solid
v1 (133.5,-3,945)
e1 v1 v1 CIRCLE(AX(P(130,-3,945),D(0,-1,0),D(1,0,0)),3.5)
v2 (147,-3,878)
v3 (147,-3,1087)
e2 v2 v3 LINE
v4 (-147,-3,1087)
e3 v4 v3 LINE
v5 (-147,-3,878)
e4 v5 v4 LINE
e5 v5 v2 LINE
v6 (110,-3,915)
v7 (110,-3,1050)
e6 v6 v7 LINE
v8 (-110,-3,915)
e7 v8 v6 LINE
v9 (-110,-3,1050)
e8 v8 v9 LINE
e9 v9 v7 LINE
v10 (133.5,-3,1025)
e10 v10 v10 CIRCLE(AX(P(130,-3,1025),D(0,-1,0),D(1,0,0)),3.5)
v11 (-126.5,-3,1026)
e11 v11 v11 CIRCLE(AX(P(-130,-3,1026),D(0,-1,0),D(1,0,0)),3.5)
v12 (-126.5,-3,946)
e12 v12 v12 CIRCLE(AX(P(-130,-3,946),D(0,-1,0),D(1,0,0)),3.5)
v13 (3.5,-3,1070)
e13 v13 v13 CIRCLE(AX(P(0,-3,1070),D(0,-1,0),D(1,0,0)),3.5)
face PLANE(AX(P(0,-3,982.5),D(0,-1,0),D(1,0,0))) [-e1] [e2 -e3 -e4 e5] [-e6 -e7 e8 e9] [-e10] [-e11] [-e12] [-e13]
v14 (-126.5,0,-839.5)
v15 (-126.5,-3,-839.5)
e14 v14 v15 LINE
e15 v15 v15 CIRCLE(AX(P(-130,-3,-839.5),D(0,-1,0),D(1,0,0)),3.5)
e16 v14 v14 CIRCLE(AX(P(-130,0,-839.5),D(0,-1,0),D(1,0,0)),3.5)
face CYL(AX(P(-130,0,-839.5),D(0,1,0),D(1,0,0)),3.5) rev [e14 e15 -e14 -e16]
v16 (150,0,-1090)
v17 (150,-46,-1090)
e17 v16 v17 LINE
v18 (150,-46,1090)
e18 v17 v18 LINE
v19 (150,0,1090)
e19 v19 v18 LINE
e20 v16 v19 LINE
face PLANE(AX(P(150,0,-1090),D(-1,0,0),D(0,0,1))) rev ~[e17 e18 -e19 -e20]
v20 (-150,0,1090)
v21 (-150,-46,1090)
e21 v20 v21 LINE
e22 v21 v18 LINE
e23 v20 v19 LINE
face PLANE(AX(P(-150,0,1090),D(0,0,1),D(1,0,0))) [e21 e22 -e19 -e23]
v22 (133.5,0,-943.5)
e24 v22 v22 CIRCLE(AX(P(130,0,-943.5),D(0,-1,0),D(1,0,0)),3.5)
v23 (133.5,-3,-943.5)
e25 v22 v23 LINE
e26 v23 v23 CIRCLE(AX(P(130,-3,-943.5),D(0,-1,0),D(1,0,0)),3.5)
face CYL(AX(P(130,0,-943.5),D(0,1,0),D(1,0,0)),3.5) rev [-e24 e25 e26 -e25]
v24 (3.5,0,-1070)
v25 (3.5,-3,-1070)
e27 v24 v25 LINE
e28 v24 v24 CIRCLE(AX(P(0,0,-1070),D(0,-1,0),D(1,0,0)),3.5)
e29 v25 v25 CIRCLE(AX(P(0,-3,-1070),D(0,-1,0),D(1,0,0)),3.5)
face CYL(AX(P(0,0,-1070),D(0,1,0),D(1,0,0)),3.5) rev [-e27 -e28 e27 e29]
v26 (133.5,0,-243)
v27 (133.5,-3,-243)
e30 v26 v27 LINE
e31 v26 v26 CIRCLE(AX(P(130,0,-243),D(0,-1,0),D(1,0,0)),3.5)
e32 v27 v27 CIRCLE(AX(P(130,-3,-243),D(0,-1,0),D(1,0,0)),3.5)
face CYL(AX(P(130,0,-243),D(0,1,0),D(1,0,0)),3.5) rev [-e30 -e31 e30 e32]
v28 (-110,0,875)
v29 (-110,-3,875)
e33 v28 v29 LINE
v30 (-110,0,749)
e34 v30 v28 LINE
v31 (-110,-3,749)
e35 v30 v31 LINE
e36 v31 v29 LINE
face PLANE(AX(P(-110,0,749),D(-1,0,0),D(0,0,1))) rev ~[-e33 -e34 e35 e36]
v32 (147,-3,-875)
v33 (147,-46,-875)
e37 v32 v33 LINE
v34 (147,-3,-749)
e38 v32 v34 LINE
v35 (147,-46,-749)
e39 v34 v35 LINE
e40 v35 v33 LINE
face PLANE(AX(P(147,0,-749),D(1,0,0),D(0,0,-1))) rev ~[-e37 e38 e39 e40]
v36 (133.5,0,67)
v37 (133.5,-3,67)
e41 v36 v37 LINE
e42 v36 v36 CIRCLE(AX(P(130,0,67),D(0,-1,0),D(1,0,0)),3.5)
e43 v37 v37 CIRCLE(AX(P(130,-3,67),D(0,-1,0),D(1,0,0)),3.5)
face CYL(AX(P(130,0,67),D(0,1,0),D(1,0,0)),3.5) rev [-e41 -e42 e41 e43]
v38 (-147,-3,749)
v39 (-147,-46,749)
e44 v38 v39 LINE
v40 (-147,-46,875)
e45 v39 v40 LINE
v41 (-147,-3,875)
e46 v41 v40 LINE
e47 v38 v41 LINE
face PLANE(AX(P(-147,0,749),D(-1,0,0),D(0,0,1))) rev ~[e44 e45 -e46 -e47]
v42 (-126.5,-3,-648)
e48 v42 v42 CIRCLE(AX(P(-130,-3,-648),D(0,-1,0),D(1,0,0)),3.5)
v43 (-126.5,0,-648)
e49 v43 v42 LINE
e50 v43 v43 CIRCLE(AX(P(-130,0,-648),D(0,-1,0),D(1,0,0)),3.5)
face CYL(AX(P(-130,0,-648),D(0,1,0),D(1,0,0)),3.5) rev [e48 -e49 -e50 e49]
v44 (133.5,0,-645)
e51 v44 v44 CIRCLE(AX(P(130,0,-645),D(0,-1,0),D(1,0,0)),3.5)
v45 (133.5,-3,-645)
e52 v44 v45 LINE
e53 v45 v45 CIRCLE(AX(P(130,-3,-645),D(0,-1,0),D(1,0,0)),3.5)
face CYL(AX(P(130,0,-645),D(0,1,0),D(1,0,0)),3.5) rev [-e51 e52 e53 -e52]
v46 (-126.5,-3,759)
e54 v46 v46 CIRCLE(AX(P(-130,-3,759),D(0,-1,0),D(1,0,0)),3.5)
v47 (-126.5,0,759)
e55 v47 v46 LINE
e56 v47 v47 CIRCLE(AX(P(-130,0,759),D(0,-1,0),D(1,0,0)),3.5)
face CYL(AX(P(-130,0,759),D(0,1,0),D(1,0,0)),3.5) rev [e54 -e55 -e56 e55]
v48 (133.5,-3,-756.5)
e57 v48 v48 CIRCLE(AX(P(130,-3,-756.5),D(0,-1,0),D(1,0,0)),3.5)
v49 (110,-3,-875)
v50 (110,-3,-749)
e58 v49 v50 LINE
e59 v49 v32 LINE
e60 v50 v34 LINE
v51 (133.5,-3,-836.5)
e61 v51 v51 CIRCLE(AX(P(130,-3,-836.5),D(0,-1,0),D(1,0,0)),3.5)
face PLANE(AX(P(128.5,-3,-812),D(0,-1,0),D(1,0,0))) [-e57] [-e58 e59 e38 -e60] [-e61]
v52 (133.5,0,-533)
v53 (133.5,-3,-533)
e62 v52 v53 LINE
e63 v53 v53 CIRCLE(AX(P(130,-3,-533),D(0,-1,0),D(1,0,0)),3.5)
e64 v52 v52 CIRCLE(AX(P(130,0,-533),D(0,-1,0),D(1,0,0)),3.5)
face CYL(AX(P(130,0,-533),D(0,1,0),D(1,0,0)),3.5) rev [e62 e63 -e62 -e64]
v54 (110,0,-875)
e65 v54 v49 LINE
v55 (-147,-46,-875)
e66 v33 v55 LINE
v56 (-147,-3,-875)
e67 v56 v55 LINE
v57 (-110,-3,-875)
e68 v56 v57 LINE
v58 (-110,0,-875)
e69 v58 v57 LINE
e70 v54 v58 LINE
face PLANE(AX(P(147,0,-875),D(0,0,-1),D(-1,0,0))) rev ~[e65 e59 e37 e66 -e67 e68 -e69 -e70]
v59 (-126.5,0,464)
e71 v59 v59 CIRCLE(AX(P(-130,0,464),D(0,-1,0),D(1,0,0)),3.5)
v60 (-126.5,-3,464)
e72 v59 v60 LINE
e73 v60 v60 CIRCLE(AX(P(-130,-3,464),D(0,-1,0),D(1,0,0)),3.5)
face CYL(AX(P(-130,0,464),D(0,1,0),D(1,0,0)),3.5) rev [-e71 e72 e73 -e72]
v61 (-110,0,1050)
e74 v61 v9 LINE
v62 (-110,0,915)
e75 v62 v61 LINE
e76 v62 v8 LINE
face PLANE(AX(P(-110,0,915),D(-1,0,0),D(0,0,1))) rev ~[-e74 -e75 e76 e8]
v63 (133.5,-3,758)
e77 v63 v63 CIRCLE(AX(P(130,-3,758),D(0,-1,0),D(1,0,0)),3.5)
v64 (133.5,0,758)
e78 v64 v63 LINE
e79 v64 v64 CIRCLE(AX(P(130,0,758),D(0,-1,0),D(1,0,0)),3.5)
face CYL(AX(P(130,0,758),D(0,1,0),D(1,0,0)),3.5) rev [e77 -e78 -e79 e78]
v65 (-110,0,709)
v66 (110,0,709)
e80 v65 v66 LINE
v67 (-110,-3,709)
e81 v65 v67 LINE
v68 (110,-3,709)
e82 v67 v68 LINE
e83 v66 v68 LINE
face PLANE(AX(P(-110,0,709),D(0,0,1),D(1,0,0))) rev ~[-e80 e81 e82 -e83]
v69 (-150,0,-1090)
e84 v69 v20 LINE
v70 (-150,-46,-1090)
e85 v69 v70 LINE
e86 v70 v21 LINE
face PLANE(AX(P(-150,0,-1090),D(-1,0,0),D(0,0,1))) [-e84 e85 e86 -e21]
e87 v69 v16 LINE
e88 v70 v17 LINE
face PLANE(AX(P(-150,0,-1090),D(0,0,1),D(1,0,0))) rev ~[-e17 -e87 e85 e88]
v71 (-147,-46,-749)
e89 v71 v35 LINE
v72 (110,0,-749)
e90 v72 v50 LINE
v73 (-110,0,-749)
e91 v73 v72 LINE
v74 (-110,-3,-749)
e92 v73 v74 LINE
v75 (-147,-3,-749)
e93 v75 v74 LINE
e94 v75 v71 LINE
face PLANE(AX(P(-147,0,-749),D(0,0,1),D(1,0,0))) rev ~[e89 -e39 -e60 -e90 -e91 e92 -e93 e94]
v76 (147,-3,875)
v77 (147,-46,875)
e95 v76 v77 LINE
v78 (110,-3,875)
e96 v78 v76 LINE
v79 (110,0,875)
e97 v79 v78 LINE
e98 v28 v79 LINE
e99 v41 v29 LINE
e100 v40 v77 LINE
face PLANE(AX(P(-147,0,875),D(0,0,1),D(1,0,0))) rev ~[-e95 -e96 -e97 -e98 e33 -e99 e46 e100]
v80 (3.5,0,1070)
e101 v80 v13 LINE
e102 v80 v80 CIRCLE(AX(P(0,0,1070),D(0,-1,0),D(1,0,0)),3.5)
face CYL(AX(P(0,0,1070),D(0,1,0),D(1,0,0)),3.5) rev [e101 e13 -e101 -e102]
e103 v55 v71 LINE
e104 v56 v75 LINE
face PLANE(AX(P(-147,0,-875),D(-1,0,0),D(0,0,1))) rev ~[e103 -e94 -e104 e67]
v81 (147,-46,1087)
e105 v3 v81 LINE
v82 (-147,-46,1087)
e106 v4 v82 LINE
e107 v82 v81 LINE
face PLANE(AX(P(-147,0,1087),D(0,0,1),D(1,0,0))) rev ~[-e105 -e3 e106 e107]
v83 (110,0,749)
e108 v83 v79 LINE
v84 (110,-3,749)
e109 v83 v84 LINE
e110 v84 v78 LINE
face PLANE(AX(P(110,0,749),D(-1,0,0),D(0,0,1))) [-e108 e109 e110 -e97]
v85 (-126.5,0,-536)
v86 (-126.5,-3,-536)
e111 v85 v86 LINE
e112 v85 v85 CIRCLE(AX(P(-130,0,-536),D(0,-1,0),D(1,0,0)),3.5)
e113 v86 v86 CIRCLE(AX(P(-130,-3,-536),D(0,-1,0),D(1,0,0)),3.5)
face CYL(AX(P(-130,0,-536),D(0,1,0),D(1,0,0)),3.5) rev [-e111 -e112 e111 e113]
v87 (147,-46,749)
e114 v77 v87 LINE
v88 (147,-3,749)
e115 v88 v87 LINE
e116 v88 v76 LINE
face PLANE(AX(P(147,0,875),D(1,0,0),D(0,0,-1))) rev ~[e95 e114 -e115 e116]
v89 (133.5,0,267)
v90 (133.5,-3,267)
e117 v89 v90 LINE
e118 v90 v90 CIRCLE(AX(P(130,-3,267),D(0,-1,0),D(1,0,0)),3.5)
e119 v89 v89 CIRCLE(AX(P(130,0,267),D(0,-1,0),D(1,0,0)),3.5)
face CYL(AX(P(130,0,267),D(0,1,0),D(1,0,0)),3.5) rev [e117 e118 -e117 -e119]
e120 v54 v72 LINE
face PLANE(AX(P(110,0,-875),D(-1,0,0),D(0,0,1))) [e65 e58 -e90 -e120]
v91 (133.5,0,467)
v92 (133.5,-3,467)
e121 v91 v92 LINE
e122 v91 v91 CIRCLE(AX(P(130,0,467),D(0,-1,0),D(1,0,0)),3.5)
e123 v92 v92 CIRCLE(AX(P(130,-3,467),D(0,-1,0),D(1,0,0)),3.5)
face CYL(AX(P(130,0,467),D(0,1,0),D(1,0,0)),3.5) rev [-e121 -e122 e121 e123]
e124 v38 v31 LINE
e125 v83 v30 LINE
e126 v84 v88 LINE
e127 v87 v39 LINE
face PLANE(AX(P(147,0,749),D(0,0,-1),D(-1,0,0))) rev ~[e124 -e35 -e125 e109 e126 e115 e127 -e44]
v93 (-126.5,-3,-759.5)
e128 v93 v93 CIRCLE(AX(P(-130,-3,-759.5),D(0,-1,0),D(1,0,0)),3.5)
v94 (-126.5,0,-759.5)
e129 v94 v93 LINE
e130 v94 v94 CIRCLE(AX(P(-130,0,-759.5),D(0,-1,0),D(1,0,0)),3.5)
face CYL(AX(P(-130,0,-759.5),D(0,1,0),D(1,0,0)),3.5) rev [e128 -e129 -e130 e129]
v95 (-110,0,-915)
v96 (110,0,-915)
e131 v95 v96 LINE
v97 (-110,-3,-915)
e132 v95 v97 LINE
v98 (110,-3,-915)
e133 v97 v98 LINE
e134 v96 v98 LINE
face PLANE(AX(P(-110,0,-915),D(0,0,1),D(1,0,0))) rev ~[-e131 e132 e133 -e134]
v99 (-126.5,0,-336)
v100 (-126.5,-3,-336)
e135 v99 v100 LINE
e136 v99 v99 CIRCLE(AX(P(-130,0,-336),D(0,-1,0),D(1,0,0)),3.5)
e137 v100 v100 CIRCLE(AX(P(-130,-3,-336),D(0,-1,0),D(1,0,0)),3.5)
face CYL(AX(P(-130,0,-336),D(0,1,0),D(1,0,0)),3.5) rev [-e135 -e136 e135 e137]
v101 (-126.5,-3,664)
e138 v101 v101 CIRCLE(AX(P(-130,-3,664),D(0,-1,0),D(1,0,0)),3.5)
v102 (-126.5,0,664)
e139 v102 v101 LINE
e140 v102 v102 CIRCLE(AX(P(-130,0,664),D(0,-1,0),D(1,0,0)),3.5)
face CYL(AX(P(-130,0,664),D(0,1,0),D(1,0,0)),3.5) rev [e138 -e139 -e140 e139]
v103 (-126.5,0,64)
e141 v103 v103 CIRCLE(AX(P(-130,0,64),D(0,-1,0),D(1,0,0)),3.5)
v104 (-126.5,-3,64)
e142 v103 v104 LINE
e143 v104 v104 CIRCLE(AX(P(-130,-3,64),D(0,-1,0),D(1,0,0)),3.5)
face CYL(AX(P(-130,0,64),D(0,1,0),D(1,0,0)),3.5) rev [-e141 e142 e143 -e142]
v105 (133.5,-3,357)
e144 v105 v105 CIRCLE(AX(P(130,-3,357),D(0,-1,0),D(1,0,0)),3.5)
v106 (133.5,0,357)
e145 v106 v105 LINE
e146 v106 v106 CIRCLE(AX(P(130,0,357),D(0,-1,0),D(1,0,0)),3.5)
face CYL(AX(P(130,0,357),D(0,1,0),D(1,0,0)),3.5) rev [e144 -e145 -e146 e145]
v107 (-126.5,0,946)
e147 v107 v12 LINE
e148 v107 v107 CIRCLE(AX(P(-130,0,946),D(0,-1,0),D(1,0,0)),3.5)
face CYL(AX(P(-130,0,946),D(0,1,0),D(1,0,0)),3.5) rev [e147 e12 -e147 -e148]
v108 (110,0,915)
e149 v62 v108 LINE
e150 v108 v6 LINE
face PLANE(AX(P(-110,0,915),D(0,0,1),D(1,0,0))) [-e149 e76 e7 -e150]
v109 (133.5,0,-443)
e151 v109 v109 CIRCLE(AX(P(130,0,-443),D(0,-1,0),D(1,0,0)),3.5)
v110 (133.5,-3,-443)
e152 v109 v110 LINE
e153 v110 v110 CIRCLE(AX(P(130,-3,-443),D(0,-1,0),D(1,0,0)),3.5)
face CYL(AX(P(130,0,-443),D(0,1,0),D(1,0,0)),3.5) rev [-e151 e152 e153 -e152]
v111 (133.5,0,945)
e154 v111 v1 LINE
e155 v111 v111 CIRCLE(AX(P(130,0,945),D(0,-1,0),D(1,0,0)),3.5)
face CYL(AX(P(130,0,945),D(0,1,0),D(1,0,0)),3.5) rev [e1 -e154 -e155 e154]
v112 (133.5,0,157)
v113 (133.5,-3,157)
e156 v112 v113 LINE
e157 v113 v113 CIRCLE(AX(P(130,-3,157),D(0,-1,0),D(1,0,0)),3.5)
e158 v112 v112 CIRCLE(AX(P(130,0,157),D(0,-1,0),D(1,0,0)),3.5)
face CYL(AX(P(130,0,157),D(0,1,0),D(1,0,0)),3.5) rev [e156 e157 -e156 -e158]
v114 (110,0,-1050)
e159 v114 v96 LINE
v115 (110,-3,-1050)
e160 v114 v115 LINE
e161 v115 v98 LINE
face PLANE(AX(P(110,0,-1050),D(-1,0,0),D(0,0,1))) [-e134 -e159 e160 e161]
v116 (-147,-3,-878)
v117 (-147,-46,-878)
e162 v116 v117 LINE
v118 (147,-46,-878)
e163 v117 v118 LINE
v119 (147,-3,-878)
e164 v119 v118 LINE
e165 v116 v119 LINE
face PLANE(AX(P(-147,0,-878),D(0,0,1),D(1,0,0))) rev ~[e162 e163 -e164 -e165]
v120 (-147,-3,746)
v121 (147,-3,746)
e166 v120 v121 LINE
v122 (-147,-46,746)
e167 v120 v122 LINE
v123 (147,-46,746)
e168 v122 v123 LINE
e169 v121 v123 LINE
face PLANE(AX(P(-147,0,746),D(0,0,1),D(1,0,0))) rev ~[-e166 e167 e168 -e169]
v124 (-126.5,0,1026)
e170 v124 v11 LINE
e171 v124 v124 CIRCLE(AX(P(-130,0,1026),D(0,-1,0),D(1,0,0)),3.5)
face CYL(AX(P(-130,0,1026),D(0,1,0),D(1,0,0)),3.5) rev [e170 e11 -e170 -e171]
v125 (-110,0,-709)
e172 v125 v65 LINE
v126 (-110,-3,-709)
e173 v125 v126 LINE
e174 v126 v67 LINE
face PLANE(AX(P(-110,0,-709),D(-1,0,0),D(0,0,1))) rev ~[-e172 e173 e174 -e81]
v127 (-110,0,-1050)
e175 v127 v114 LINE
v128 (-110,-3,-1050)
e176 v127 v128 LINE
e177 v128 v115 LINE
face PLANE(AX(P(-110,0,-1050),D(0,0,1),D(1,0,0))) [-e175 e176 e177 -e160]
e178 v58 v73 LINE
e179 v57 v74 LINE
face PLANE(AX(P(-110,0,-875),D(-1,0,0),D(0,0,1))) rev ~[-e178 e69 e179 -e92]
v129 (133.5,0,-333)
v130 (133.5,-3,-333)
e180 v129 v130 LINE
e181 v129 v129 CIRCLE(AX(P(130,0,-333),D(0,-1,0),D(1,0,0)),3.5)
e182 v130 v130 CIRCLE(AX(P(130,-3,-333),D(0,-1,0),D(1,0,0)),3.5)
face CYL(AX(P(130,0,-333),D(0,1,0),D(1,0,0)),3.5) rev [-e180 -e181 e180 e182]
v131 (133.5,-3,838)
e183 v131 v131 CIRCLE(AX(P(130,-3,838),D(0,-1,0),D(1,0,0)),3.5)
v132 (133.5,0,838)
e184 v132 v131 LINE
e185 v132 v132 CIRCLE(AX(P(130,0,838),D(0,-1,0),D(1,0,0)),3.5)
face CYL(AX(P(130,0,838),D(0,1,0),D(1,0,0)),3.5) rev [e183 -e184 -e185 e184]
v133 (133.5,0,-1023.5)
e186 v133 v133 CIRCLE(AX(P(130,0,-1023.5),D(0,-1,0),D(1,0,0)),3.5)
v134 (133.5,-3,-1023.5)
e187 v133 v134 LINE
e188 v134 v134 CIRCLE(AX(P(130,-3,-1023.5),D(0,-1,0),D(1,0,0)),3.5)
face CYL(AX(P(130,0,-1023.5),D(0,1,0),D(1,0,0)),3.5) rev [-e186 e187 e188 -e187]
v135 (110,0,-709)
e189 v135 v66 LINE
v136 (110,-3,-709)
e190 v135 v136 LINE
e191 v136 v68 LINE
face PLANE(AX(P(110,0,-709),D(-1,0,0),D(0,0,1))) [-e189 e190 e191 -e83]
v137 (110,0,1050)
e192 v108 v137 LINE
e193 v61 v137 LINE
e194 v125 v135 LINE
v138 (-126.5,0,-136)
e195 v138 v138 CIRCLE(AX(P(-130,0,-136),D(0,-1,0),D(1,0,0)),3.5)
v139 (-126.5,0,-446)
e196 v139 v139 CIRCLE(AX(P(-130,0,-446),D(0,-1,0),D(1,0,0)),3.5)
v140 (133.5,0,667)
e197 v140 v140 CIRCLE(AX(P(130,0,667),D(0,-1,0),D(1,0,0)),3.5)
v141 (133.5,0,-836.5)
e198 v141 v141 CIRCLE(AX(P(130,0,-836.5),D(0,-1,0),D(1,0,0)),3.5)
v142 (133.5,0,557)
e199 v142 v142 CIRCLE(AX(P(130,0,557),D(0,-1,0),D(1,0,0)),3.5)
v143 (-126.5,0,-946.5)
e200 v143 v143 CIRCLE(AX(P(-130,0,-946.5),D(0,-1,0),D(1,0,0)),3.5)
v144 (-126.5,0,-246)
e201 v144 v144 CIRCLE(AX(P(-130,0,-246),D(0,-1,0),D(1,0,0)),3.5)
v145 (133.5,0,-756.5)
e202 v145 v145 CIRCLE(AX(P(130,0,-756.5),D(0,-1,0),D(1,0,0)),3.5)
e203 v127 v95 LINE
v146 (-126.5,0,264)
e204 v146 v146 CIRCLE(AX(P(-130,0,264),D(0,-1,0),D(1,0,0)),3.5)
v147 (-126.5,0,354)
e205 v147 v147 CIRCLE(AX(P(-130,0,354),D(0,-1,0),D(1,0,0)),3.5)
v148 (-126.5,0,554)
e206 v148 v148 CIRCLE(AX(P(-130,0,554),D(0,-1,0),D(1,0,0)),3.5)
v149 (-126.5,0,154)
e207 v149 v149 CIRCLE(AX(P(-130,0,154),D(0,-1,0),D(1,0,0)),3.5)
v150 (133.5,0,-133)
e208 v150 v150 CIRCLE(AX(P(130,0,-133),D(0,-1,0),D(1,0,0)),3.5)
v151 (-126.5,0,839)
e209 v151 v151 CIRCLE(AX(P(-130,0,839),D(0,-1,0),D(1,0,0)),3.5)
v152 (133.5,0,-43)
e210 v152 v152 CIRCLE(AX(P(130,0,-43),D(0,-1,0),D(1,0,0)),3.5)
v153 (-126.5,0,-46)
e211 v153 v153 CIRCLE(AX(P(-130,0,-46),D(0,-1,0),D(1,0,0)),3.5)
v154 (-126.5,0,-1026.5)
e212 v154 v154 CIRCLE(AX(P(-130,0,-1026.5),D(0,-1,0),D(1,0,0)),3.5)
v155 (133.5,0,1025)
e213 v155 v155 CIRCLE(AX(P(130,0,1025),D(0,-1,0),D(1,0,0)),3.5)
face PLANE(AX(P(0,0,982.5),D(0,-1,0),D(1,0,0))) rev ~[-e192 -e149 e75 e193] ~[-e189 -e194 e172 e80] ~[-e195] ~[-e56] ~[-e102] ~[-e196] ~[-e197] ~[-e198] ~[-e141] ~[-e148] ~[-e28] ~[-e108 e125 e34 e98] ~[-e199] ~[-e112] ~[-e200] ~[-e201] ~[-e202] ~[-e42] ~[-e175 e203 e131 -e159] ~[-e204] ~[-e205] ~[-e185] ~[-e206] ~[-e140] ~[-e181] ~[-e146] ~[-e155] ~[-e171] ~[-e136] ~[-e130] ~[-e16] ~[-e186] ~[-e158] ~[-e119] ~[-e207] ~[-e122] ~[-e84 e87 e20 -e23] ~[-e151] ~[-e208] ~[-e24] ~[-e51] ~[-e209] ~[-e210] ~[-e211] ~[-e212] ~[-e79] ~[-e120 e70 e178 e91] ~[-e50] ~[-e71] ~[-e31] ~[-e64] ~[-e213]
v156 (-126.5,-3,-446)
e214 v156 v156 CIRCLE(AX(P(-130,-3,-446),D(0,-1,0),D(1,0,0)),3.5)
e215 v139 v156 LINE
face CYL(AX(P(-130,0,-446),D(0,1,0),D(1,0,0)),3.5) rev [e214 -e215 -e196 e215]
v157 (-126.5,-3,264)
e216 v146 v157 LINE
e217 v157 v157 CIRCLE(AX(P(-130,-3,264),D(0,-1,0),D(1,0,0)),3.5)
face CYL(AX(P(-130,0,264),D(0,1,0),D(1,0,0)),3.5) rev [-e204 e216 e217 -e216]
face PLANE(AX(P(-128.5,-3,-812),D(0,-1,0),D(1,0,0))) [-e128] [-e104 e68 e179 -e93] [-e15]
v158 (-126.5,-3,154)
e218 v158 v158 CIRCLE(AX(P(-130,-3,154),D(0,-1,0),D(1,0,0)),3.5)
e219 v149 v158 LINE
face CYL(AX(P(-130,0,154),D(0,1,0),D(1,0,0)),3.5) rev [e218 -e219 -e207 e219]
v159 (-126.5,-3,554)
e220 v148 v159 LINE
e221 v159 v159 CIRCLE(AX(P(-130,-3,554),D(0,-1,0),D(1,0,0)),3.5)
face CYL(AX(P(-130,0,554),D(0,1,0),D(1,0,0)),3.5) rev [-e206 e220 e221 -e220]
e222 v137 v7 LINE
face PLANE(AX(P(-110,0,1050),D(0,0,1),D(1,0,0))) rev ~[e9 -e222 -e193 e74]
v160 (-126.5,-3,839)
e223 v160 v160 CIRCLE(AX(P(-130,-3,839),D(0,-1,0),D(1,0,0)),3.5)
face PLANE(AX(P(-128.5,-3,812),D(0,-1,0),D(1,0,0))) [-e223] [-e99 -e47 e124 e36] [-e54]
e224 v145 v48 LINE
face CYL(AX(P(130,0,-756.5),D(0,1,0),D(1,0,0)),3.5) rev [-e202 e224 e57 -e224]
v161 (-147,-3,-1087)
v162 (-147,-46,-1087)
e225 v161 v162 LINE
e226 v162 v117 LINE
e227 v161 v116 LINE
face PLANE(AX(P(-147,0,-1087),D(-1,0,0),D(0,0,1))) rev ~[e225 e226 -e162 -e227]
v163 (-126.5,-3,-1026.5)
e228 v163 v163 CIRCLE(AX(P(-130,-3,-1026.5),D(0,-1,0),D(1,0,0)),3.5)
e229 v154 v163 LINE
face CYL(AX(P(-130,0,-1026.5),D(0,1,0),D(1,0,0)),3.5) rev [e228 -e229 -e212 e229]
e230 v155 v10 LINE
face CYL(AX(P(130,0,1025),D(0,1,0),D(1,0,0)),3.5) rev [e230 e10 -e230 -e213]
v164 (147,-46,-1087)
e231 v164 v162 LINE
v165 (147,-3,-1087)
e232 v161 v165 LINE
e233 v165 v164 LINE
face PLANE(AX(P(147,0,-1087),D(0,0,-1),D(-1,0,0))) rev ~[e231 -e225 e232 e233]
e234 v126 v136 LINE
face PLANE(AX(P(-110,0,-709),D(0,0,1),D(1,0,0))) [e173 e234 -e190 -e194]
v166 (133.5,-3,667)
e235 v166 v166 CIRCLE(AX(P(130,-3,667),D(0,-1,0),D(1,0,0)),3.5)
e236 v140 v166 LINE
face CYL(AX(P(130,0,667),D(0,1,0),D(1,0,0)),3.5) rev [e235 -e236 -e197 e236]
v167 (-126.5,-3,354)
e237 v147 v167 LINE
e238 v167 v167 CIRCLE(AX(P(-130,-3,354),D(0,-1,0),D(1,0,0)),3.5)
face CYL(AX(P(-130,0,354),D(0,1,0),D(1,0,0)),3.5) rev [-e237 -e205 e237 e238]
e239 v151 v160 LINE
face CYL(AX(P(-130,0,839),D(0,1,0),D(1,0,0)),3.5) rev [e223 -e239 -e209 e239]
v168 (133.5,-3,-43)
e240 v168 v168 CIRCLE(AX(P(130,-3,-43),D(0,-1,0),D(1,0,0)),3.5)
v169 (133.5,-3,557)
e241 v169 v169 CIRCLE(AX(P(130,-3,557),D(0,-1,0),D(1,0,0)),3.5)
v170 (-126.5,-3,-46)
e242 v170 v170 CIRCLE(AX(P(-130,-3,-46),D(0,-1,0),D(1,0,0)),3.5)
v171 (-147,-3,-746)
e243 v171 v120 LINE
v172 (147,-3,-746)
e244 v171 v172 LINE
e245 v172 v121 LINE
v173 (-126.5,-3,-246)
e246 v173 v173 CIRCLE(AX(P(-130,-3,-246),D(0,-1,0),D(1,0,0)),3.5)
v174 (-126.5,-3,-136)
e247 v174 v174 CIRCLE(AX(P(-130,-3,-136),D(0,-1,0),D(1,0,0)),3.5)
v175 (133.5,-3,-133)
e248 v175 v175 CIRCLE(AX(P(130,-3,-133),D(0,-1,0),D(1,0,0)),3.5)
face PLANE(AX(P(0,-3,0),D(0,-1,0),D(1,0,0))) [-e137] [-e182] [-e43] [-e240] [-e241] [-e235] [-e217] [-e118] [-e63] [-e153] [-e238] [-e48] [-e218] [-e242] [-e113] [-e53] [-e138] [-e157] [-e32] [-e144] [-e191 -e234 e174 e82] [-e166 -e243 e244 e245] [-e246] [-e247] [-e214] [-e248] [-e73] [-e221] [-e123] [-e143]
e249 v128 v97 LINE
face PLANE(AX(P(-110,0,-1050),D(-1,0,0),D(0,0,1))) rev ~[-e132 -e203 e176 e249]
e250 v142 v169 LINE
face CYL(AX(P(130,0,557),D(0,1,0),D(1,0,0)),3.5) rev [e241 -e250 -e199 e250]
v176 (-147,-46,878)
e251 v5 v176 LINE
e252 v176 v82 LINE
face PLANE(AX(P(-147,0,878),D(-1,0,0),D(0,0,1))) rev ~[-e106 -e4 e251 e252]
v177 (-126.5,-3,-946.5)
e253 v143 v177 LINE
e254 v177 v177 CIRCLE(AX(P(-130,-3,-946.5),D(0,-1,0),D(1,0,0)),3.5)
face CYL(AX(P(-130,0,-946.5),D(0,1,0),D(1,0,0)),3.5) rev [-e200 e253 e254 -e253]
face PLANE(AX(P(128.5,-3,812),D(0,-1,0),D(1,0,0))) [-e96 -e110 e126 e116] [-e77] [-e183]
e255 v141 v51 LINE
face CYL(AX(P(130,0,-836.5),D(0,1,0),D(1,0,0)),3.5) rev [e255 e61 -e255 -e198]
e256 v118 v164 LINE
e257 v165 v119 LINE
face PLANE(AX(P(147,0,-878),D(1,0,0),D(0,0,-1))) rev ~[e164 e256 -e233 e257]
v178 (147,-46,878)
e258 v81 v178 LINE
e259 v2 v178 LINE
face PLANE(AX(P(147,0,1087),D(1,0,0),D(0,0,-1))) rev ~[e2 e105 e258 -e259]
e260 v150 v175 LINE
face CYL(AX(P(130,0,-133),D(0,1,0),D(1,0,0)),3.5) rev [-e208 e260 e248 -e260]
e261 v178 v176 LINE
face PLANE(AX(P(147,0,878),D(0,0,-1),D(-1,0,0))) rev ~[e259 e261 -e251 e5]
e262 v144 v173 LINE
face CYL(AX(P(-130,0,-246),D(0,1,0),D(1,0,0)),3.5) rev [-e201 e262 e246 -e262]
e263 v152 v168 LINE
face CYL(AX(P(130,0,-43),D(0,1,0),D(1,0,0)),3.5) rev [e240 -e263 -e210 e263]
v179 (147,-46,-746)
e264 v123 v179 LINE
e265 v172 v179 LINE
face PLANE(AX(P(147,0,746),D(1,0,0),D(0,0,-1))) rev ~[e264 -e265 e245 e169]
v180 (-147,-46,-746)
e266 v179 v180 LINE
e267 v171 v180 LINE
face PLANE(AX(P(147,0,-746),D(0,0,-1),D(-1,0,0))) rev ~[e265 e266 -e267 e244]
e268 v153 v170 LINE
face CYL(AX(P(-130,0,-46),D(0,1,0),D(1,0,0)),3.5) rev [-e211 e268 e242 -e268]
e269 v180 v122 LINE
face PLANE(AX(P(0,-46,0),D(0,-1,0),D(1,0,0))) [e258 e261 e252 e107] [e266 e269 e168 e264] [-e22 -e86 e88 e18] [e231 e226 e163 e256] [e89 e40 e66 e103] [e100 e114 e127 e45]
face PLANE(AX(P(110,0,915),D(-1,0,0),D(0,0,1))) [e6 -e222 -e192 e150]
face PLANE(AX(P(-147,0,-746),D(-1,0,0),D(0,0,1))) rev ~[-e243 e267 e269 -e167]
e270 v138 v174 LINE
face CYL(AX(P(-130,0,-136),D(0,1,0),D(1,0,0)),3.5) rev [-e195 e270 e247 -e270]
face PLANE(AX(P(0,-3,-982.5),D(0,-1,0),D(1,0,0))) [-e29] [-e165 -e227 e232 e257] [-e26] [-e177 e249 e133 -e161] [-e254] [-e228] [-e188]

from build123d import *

# Parameters (mm, degrees)
F0_W     = 300
F0_H     = 2180
F1_DEPTH = 46
F0_W_2   = 294
F0_H_2   = 209
F0_R     = 3.5
F0_W_3   = 220
F0_H_3   = 135
F0_W_4   = 37
F0_H_4   = 126
F0_H_5   = 1492
F0_H_6   = 1418
F2_DEPTH = 3


with BuildPart() as f1:
    # F0 (on Front) → F1 (new body)
    with BuildSketch(Plane.XZ):
        Rectangle(F0_W, F0_H)
        Polygon((-147, 878), (-147, 1087), (147, 1087), (147, 878), (147, 875), (147, 749), (147, 746), (147, -746), (147, -749), (147, -875), (147, -878), (147, -1087), (-147, -1087), (-147, -878), (-147, -875), (-147, -749), (-147, -746), (-147, 746), (-147, 749), (-147, 875), align=None, mode=Mode.SUBTRACT)
        Polygon((147, -746), (-147, -746), (-147, -749), (-110, -749), (110, -749), (147, -749), align=None)
        Polygon((-110, -875), (-147, -875), (-147, -878), (147, -878), (147, -875), (110, -875), align=None)
        Polygon((-110, 749), (-147, 749), (-147, 746), (147, 746), (147, 749), (110, 749), align=None)
        Polygon((147, 878), (-147, 878), (-147, 875), (-110, 875), (110, 875), (147, 875), align=None)
    extrude(amount=F1_DEPTH)

    # F0 (on Front) → F2 (join)
    with BuildSketch(Plane.XZ):
        with Locations((0, 982.5)):
            Rectangle(F0_W_2, F0_H_2)
        with Locations((-130, 946)):
            Circle(F0_R, mode=Mode.SUBTRACT)
        with Locations((-130, 1026)):
            Circle(F0_R, mode=Mode.SUBTRACT)
        with Locations((0, 982.5)):
            Rectangle(F0_W_3, F0_H_3, mode=Mode.SUBTRACT)
        with Locations((0, 1070)):
            Circle(F0_R, mode=Mode.SUBTRACT)
        with Locations((130, 945)):
            Circle(F0_R, mode=Mode.SUBTRACT)
        with Locations((130, 1025)):
            Circle(F0_R, mode=Mode.SUBTRACT)
        with Locations((-128.5, 812)):
            Rectangle(F0_W_4, F0_H_4)
        with Locations((-130, 759)):
            Circle(F0_R, mode=Mode.SUBTRACT)
        with Locations((-130, 839)):
            Circle(F0_R, mode=Mode.SUBTRACT)
        with Locations((128.5, 812)):
            Rectangle(F0_W_4, F0_H_4)
        with Locations((130, 758)):
            Circle(F0_R, mode=Mode.SUBTRACT)
        with Locations((130, 838)):
            Circle(F0_R, mode=Mode.SUBTRACT)
        Rectangle(F0_W_2, F0_H_5)
        with Locations((-130, -648)):
            Circle(F0_R, mode=Mode.SUBTRACT)
        with Locations((-130, -536)):
            Circle(F0_R, mode=Mode.SUBTRACT)
        with Locations((-130, -446)):
            Circle(F0_R, mode=Mode.SUBTRACT)
        with Locations((-130, -336)):
            Circle(F0_R, mode=Mode.SUBTRACT)
        with Locations((-130, -246)):
            Circle(F0_R, mode=Mode.SUBTRACT)
        with Locations((-130, -136)):
            Circle(F0_R, mode=Mode.SUBTRACT)
        with Locations((-130, -46)):
            Circle(F0_R, mode=Mode.SUBTRACT)
        with Locations((130, -645)):
            Circle(F0_R, mode=Mode.SUBTRACT)
        with Locations((130, -533)):
            Circle(F0_R, mode=Mode.SUBTRACT)
        with Locations((130, -443)):
            Circle(F0_R, mode=Mode.SUBTRACT)
        with Locations((130, -333)):
            Circle(F0_R, mode=Mode.SUBTRACT)
        with Locations((130, -243)):
            Circle(F0_R, mode=Mode.SUBTRACT)
        with Locations((130, -133)):
            Circle(F0_R, mode=Mode.SUBTRACT)
        with Locations((130, -43)):
            Circle(F0_R, mode=Mode.SUBTRACT)
        with Locations((-130, 64)):
            Circle(F0_R, mode=Mode.SUBTRACT)
        with Locations((-130, 154)):
            Circle(F0_R, mode=Mode.SUBTRACT)
        with Locations((-130, 264)):
            Circle(F0_R, mode=Mode.SUBTRACT)
        with Locations((-130, 354)):
            Circle(F0_R, mode=Mode.SUBTRACT)
        with Locations((-130, 464)):
            Circle(F0_R, mode=Mode.SUBTRACT)
        with Locations((-130, 554)):
            Circle(F0_R, mode=Mode.SUBTRACT)
        with Locations((-130, 664)):
            Circle(F0_R, mode=Mode.SUBTRACT)
        Rectangle(F0_W_3, F0_H_6, mode=Mode.SUBTRACT)
        with Locations((130, 67)):
            Circle(F0_R, mode=Mode.SUBTRACT)
        with Locations((130, 157)):
            Circle(F0_R, mode=Mode.SUBTRACT)
        with Locations((130, 267)):
            Circle(F0_R, mode=Mode.SUBTRACT)
        with Locations((130, 357)):
            Circle(F0_R, mode=Mode.SUBTRACT)
        with Locations((130, 467)):
            Circle(F0_R, mode=Mode.SUBTRACT)
        with Locations((130, 557)):
            Circle(F0_R, mode=Mode.SUBTRACT)
        with Locations((130, 667)):
            Circle(F0_R, mode=Mode.SUBTRACT)
        with Locations((-128.5, -812)):
            Rectangle(F0_W_4, F0_H_4)
        with Locations((-130, -839.5)):
            Circle(F0_R, mode=Mode.SUBTRACT)
        with Locations((-130, -759.5)):
            Circle(F0_R, mode=Mode.SUBTRACT)
        with Locations((128.5, -812)):
            Rectangle(F0_W_4, F0_H_4)
        with Locations((130, -836.5)):
            Circle(F0_R, mode=Mode.SUBTRACT)
        with Locations((130, -756.5)):
            Circle(F0_R, mode=Mode.SUBTRACT)
        with Locations((0, -982.5)):
            Rectangle(F0_W_2, F0_H_2)
        with Locations((-130, -1026.5)):
            Circle(F0_R, mode=Mode.SUBTRACT)
        with Locations((-130, -946.5)):
            Circle(F0_R, mode=Mode.SUBTRACT)
        with Locations((0, -1070)):
            Circle(F0_R, mode=Mode.SUBTRACT)
        with Locations((0, -982.5)):
            Rectangle(F0_W_3, F0_H_3, mode=Mode.SUBTRACT)
        with Locations((130, -1023.5)):
            Circle(F0_R, mode=Mode.SUBTRACT)
        with Locations((130, -943.5)):
            Circle(F0_R, mode=Mode.SUBTRACT)
    extrude(amount=F2_DEPTH)


solid = f1.part
